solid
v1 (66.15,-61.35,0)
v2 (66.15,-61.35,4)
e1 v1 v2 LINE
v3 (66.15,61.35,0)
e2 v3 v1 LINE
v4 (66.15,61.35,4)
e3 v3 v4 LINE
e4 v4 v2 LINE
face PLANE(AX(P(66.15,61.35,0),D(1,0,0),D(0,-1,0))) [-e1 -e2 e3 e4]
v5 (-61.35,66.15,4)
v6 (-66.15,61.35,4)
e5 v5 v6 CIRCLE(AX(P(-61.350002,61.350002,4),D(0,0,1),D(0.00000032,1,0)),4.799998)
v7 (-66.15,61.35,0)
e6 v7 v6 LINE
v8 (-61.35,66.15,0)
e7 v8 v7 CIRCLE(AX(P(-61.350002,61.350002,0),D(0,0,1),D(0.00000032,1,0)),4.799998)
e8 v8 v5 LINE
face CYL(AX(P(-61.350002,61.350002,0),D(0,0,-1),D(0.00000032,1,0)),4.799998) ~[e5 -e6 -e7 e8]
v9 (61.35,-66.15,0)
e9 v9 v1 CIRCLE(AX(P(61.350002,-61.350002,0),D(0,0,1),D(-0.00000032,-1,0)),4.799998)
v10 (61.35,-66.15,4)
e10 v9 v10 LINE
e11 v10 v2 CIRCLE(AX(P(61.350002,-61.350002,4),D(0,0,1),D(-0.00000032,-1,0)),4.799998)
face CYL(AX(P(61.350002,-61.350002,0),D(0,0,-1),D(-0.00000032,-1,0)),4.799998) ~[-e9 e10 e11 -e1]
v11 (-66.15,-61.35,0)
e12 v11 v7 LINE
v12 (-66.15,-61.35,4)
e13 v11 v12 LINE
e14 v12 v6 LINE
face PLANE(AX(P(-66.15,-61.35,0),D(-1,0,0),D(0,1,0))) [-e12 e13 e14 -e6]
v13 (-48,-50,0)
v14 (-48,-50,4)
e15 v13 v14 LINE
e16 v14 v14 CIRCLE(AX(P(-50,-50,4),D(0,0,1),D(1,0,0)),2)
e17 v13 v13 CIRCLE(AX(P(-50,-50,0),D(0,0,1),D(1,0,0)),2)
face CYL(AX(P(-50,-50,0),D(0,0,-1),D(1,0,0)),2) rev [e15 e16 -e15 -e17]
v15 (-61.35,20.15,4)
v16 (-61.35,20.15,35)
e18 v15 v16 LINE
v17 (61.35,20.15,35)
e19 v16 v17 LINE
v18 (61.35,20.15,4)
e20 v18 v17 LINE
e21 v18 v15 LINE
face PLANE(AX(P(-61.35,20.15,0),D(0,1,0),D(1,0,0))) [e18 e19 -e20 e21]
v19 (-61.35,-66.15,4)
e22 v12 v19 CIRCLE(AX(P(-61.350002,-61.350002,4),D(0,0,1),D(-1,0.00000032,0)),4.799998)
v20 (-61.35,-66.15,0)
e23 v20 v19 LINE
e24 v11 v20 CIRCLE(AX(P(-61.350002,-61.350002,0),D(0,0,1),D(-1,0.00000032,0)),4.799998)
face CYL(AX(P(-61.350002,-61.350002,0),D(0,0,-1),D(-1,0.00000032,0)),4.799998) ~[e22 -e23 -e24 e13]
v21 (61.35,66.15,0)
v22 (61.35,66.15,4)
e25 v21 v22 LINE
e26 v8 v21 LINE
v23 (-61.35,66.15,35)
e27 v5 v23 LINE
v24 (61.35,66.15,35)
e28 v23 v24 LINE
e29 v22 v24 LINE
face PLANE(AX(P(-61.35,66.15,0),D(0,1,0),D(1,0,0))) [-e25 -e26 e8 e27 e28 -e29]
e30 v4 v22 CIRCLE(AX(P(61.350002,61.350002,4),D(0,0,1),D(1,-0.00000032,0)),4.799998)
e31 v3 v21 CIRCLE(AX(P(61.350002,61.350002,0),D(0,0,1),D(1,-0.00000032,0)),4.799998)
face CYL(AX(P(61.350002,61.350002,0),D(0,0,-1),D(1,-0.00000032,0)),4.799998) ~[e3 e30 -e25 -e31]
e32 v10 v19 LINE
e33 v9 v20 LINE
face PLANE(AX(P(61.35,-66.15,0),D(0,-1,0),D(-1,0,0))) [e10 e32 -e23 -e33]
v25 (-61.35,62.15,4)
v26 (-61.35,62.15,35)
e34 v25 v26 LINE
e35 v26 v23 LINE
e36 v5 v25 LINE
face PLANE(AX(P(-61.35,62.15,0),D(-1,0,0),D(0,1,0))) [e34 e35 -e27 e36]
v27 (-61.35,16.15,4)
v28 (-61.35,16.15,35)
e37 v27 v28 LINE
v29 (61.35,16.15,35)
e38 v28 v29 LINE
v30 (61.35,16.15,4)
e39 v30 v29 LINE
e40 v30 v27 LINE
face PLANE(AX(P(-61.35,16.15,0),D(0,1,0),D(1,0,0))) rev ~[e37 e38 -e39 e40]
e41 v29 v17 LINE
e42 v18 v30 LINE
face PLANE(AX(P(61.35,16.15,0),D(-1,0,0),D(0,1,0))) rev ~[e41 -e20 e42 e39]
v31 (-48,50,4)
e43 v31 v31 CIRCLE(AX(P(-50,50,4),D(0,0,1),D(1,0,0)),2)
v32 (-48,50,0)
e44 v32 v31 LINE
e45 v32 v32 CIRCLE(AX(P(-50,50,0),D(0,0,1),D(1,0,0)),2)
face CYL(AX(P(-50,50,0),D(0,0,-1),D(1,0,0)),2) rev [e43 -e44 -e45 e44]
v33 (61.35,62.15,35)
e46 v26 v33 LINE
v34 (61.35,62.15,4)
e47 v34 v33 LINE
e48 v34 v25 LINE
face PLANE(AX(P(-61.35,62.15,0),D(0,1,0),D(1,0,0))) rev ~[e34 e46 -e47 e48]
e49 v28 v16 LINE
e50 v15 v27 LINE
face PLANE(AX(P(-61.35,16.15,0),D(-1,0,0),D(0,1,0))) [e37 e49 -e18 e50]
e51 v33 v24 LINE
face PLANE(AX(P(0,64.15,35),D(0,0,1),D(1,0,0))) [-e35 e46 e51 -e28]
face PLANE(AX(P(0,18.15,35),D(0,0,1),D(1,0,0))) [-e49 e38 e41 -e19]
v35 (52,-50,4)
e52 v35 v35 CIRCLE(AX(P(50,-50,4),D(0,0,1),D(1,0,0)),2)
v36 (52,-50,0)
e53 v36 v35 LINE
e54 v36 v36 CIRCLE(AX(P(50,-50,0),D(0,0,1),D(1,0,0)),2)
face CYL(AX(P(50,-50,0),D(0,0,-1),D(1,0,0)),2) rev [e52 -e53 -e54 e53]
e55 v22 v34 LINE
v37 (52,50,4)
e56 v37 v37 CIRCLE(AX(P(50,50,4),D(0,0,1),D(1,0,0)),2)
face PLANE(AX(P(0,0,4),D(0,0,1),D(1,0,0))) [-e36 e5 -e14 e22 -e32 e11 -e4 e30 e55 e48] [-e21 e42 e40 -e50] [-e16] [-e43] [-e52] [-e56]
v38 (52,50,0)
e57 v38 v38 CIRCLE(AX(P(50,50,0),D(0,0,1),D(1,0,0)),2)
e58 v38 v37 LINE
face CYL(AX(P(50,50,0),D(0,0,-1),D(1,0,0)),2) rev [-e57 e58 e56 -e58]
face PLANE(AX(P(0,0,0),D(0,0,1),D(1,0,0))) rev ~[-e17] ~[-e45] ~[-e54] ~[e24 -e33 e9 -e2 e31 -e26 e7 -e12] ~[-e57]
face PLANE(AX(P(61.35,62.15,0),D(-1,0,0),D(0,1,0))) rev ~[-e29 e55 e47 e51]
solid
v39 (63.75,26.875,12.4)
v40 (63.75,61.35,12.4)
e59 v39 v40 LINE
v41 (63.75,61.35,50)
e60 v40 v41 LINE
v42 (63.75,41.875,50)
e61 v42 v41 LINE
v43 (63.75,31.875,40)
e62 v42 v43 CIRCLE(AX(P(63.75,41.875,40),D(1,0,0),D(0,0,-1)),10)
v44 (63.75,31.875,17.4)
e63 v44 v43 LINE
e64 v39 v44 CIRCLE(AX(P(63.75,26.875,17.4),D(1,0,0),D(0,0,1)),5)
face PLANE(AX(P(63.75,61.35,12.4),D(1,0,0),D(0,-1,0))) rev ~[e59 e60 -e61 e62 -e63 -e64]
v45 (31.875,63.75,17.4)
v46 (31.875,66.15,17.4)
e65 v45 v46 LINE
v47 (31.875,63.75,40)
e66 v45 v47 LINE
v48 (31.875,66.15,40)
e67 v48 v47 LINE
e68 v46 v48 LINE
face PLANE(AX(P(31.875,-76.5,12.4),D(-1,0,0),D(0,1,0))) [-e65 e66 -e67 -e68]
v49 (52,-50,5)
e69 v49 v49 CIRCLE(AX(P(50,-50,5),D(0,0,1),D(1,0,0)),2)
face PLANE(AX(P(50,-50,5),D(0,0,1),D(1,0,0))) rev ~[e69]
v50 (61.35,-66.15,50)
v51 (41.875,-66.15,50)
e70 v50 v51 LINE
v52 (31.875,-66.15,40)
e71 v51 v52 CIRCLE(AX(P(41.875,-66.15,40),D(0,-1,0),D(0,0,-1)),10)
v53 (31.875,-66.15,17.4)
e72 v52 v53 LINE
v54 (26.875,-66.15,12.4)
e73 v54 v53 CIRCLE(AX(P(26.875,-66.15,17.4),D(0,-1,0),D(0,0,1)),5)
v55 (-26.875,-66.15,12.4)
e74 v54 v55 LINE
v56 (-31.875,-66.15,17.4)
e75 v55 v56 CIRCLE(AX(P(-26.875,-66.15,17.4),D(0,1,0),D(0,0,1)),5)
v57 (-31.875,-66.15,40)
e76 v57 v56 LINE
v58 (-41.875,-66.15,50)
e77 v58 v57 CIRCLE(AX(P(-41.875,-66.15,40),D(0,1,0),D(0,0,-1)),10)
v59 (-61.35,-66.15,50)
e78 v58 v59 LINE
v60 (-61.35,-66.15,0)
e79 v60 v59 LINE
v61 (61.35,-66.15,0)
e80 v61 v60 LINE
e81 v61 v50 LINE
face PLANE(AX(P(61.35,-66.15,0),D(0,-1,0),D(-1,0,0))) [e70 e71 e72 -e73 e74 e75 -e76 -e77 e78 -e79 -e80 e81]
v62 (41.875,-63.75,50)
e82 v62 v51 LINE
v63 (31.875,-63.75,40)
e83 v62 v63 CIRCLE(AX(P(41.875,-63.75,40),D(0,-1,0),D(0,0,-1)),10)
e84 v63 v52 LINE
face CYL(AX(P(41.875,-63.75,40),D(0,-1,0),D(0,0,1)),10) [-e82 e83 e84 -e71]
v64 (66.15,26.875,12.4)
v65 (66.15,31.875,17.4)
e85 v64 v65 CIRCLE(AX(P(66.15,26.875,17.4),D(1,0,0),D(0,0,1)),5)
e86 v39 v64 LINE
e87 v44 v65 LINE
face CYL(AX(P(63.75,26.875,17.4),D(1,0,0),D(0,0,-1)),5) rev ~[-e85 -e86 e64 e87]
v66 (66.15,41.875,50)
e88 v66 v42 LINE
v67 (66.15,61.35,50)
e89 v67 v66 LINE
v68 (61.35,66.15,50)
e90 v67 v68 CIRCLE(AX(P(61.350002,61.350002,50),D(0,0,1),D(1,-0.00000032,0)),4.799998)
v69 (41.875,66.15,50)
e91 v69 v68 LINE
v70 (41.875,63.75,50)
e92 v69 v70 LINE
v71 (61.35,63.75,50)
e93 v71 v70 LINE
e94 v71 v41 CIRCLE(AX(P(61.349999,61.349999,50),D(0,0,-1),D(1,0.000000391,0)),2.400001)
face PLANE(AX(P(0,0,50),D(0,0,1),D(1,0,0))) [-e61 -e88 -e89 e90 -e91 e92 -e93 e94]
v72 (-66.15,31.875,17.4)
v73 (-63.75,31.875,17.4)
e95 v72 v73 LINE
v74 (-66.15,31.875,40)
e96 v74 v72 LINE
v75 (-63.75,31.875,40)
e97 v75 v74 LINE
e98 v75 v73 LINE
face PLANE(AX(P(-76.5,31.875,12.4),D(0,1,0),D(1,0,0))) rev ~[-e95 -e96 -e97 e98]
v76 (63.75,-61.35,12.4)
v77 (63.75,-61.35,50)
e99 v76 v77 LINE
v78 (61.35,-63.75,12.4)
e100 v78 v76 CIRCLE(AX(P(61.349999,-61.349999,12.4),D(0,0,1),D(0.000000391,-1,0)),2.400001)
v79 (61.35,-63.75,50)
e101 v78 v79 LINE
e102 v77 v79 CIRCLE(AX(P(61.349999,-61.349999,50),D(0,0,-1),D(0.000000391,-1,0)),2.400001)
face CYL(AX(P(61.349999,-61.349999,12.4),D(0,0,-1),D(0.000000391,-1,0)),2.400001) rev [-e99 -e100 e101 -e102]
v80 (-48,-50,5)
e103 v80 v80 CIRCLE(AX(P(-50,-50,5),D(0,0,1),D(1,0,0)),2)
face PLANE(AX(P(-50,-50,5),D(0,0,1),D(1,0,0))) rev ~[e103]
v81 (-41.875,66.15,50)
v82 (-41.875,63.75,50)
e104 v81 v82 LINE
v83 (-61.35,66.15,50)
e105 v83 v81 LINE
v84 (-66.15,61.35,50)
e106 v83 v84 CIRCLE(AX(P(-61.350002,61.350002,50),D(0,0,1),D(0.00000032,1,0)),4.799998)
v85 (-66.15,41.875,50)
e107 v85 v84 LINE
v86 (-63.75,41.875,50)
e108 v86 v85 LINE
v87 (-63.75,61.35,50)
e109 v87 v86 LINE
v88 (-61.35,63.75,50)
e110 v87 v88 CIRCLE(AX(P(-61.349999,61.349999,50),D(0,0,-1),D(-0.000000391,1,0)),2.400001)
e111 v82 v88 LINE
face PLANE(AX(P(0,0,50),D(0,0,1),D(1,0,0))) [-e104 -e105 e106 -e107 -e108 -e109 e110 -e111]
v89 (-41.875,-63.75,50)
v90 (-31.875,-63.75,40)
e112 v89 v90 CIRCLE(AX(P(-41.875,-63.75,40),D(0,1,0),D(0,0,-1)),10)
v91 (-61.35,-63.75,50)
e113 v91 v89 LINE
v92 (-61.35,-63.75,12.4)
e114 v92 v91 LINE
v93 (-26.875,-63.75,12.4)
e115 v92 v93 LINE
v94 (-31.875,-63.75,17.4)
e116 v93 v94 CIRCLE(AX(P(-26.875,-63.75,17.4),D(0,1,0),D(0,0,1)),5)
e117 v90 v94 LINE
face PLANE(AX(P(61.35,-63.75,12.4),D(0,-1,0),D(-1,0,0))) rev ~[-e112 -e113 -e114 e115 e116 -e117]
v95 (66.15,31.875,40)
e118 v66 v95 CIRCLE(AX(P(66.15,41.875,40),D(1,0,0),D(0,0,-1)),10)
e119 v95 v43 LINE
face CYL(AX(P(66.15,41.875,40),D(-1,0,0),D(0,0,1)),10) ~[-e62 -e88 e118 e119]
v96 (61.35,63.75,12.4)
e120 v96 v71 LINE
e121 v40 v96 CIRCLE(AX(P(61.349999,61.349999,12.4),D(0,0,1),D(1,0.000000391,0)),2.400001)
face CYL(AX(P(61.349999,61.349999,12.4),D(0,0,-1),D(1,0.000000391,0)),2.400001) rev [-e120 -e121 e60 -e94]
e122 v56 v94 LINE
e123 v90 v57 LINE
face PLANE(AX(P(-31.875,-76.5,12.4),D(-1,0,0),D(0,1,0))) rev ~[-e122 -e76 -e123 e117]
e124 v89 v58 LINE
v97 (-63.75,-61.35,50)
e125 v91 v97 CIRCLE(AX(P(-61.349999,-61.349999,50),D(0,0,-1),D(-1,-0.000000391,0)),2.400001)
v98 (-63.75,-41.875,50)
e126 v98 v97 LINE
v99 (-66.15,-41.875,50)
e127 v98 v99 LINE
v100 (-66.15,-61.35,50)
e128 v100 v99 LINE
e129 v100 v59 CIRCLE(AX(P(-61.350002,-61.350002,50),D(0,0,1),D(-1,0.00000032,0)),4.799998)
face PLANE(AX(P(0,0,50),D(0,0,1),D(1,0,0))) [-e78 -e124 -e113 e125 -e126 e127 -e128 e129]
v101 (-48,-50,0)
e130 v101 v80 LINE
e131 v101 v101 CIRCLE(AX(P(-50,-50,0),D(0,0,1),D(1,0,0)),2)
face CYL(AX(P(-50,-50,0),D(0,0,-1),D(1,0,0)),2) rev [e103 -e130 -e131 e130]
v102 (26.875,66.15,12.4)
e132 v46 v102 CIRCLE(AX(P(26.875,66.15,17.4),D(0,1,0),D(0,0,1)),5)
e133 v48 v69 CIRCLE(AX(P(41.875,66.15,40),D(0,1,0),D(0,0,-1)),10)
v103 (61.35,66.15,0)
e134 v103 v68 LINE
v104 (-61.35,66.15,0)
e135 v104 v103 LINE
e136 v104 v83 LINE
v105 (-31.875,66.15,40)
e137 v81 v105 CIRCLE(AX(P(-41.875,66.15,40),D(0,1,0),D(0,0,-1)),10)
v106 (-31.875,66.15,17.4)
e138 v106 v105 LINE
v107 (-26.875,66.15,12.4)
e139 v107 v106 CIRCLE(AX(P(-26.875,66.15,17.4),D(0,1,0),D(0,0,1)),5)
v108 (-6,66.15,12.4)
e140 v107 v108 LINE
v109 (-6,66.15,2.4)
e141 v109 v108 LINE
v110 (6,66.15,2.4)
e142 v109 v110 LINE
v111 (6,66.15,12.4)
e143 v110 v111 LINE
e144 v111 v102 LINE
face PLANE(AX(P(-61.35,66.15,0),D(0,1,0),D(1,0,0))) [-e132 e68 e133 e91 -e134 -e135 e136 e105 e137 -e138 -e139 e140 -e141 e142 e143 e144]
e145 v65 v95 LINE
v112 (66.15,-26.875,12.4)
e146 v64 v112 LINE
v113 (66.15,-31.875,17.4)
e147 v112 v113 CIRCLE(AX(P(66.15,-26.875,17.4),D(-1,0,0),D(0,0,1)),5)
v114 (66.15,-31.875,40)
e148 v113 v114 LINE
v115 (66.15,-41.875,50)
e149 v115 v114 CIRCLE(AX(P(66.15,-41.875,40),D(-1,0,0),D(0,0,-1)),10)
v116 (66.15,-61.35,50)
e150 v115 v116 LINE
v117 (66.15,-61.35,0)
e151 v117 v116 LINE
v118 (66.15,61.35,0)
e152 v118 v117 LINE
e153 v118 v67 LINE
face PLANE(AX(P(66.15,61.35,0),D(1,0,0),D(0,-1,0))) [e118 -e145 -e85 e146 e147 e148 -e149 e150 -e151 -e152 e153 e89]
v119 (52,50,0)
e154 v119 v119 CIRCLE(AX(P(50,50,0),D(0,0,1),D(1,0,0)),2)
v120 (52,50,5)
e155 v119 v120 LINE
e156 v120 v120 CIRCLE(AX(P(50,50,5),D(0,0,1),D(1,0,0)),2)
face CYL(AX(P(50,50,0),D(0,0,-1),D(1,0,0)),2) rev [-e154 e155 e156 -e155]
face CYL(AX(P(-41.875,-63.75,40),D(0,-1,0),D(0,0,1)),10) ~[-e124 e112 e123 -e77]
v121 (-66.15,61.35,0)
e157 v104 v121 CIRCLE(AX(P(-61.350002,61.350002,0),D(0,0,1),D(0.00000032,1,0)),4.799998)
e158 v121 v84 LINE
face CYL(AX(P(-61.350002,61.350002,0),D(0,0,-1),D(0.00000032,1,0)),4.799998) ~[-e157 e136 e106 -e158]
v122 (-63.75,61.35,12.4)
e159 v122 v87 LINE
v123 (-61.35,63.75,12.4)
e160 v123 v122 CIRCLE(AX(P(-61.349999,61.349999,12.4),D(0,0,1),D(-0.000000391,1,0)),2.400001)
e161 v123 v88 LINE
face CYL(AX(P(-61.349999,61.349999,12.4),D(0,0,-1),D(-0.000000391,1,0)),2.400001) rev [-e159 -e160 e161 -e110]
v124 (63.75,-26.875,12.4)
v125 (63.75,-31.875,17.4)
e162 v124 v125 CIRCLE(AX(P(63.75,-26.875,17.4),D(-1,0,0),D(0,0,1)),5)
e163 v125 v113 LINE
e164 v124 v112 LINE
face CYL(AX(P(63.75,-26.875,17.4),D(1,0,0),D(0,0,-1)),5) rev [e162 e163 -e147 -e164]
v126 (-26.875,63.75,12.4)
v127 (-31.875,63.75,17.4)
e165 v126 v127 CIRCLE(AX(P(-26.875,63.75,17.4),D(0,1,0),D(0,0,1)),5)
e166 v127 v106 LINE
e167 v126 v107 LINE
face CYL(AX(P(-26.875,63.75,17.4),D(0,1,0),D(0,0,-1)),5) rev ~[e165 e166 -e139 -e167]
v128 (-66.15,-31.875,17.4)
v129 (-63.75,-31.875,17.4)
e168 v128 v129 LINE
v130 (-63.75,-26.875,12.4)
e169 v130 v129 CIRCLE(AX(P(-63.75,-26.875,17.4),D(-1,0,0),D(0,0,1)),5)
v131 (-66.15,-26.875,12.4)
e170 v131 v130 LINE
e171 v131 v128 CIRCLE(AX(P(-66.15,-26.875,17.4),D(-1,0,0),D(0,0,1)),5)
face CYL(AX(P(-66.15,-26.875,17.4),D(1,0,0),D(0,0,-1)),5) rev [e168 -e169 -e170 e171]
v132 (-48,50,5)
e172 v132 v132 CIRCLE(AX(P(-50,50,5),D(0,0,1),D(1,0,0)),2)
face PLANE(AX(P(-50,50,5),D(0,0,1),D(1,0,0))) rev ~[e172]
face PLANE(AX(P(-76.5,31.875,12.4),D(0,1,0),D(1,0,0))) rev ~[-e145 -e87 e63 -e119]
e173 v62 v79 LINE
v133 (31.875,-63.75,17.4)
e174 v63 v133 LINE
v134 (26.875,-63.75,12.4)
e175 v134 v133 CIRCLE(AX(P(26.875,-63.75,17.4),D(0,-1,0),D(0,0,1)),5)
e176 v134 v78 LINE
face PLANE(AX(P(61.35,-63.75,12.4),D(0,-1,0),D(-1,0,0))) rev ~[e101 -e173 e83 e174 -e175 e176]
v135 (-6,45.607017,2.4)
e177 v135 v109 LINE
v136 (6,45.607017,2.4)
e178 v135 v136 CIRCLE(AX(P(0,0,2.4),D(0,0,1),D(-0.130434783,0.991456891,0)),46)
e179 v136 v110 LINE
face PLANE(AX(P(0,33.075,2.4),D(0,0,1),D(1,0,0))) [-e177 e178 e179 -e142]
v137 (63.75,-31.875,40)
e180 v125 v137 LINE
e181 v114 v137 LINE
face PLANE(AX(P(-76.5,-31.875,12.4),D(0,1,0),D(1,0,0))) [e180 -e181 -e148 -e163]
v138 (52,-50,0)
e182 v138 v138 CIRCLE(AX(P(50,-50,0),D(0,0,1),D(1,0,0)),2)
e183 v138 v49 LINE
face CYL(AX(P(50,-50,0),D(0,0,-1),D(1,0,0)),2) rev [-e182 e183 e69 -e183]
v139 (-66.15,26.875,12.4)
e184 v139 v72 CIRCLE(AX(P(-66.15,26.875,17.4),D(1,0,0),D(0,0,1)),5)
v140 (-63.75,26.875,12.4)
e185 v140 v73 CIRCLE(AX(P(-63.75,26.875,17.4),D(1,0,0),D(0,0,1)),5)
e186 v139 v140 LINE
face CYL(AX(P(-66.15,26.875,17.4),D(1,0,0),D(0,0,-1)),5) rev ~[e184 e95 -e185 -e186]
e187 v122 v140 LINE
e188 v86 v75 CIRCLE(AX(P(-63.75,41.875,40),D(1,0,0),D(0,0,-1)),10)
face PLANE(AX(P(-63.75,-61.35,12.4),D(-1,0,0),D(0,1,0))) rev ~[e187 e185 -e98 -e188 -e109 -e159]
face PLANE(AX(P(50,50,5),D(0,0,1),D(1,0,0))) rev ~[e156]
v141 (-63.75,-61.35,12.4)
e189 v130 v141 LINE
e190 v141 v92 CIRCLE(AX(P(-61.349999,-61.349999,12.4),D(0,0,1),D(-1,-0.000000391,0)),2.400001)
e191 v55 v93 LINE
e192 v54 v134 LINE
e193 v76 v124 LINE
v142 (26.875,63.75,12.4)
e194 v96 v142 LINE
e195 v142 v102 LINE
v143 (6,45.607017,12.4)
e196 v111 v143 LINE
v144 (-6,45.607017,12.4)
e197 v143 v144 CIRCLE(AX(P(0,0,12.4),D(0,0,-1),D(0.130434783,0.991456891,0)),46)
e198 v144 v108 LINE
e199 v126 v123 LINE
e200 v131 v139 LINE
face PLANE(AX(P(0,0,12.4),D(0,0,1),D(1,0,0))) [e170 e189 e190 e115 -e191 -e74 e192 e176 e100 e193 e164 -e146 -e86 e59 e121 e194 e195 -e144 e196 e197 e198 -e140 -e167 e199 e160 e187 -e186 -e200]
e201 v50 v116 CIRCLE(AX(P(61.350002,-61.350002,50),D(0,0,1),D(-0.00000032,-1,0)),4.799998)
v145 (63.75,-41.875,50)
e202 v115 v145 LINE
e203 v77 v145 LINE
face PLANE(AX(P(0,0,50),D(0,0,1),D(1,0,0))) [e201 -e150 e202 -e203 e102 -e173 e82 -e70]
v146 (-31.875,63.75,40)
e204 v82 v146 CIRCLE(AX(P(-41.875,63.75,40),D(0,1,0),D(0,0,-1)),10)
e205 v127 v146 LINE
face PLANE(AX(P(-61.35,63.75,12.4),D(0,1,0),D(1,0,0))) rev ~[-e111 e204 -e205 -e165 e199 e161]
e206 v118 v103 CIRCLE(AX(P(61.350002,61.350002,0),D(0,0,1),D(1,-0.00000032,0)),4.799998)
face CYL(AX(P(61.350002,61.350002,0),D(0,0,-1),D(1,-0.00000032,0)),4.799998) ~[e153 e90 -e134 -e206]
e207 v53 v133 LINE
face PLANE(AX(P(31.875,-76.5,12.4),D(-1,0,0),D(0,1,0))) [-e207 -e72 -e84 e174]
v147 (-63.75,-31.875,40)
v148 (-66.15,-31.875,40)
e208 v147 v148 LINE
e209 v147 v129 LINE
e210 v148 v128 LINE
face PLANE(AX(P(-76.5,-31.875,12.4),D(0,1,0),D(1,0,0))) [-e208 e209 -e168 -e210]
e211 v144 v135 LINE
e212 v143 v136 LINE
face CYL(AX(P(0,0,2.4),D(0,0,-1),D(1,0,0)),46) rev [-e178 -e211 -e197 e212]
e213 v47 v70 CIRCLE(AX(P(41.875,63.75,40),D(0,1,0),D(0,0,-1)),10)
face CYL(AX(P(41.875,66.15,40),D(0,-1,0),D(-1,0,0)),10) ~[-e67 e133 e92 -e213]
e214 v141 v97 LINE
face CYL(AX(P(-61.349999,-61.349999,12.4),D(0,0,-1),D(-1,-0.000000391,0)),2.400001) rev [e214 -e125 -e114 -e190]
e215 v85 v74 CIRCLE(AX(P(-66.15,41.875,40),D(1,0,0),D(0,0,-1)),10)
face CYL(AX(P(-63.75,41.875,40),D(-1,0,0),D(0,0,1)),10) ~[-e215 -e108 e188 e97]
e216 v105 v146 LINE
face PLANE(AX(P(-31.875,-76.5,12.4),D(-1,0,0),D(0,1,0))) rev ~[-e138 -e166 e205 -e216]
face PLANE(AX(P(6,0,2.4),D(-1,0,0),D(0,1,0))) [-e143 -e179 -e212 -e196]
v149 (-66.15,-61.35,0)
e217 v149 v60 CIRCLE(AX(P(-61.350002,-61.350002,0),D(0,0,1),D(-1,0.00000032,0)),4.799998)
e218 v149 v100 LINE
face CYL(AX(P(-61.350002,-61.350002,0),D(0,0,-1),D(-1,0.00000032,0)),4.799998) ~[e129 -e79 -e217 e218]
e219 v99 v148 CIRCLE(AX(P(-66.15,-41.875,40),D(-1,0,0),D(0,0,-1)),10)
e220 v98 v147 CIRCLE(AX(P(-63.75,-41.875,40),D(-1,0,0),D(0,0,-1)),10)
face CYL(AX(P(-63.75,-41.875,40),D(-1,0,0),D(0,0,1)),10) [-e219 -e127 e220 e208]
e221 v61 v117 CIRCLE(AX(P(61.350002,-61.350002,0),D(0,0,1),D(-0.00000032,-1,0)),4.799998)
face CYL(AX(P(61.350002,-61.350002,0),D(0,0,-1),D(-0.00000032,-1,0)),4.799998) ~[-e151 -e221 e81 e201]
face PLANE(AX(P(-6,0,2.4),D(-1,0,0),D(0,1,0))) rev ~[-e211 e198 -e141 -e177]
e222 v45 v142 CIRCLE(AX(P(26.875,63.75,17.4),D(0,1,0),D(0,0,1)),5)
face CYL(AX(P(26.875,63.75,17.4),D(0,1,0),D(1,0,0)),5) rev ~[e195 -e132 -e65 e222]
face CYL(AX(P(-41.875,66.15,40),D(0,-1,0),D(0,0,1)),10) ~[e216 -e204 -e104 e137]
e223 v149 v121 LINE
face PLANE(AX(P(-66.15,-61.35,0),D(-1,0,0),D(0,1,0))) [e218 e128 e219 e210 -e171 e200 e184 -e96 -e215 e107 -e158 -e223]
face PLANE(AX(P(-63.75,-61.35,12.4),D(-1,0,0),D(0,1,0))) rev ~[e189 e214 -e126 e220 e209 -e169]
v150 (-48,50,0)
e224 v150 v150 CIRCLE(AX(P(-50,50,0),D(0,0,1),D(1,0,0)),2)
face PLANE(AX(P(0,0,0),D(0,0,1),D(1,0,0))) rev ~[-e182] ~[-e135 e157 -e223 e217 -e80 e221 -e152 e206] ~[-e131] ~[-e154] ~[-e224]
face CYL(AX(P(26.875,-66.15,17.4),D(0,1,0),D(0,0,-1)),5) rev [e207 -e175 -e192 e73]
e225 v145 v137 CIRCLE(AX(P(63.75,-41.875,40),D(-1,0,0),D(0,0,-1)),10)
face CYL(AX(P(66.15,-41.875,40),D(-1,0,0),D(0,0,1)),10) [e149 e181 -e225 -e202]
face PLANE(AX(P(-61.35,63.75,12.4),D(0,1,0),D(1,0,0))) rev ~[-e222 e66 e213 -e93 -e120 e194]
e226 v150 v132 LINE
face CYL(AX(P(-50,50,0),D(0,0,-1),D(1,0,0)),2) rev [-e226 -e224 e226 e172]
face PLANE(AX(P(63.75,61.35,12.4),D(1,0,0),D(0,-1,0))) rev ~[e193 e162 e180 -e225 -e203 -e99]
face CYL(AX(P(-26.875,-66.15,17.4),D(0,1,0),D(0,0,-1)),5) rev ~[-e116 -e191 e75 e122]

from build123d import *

# Parameters (mm, degrees)
PAD_DEPTH       = 50
SKETCH001_R     = 46
POCKET_DEPTH    = 47.601
SKETCH002_W     = 12
SKETCH002_H     = 66.15
POCKET001_DEPTH = 47.601
POCKET002_DEPTH = 37.601
SKETCH004_R     = 2
POCKET003_DEPTH = 5
SKETCH007_W     = 153
SKETCH007_H     = 63.75
POCKET004_DEPTH = 37.601
SKETCH008_W     = 63.75
SKETCH008_H     = 153
POCKET005_DEPTH = 37.601
FILLET_R        = 10
FILLET001_R     = 5
SKETCH005_R     = 2
PAD001_DEPTH    = 4
SKETCH006_W     = 122.7
SKETCH006_H     = 4
PAD002_DEPTH    = 35


with BuildPart() as box_holder:
    # Sketch → Pad (new body)
    with BuildSketch(Plane.XY):
        with BuildLine():
            ThreePointArc((-61.35, 66.15), (-64.744113, 64.744113), (-66.15, 61.35))
            Line((-66.15, -61.35), (-66.15, 61.35))
            ThreePointArc((-66.15, -61.35), (-64.744113, -64.744113), (-61.35, -66.15))
            Line((61.35, -66.15), (-61.35, -66.15))
            ThreePointArc((61.35, -66.15), (64.744113, -64.744113), (66.15, -61.35))
            Line((66.15, 61.35), (66.15, -61.35))
            ThreePointArc((66.15, 61.35), (64.744113, 64.744113), (61.35, 66.15))
            Line((-61.35, 66.15), (61.35, 66.15))
        make_face()
    extrude(amount=PAD_DEPTH)

    # Sketch001 → Pocket (cut, through all)
    with BuildSketch(Plane.XY.offset(2.4)):
        Circle(SKETCH001_R)
    extrude(amount=POCKET_DEPTH, mode=Mode.SUBTRACT)

    # Sketch002 → Pocket001 (cut, through all)
    with BuildSketch(Plane.XY.offset(2.4)):
        with Locations((0, 33.075)):
            Rectangle(SKETCH002_W, SKETCH002_H)
    extrude(amount=POCKET001_DEPTH, mode=Mode.SUBTRACT)

    # Sketch003 → Pocket002 (cut, through all)
    with BuildSketch(Plane.XY.offset(12.4)):
        with BuildLine():
            ThreePointArc((-61.35, 63.75), (-63.047056, 63.047056), (-63.75, 61.35))
            Line((-63.75, -61.35), (-63.75, 61.35))
            ThreePointArc((-63.75, -61.35), (-63.047056, -63.047056), (-61.35, -63.75))
            Line((61.35, -63.75), (-61.35, -63.75))
            ThreePointArc((61.35, -63.75), (63.047056, -63.047056), (63.75, -61.35))
            Line((63.75, 61.35), (63.75, -61.35))
            ThreePointArc((63.75, 61.35), (63.047056, 63.047056), (61.35, 63.75))
            Line((-61.35, 63.75), (61.35, 63.75))
        make_face()
    extrude(amount=POCKET002_DEPTH, mode=Mode.SUBTRACT)

    # Sketch004 → Pocket003 (cut)
    with BuildSketch(Plane.XY):
        with Locations((-50, 50)):
            Circle(SKETCH004_R)
        with Locations((50, 50)):
            Circle(SKETCH004_R)
        with Locations((50, -50)):
            Circle(SKETCH004_R)
        with Locations((-50, -50)):
            Circle(SKETCH004_R)
    extrude(amount=POCKET003_DEPTH, mode=Mode.SUBTRACT)

    # Sketch007 → Pocket004 (cut, through all)
    with BuildSketch(Plane.XY.offset(12.4)):
        Rectangle(SKETCH007_W, SKETCH007_H)
    extrude(amount=POCKET004_DEPTH, mode=Mode.SUBTRACT)

    # Sketch008 → Pocket005 (cut, through all)
    with BuildSketch(Plane.XY.offset(12.4)):
        Rectangle(SKETCH008_W, SKETCH008_H)
    extrude(amount=POCKET005_DEPTH, mode=Mode.SUBTRACT)

    # Fillet
    fillet_edges = [box_holder.edges().sort_by_distance(p)[0] for p in [
        (-64.95, -31.875, 50),
        (-64.95, 31.875, 50),
        (-31.875, -64.95, 50),
        (31.875, -64.95, 50),
        (64.95, -31.875, 50),
        (64.95, 31.875, 50),
        (31.875, 64.95, 50),
        (-31.875, 64.95, 50),
    ]]
    fillet(fillet_edges, radius=FILLET_R)

    # Fillet001
    fillet001_edges = [box_holder.edges().sort_by_distance(p)[0] for p in [
        (31.875, 64.95, 12.4),
        (64.95, 31.875, 12.4),
        (-31.875, 64.95, 12.4),
        (-64.95, -31.875, 12.4),
        (-64.95, 31.875, 12.4),
        (-31.875, -64.95, 12.4),
        (31.875, -64.95, 12.4),
        (64.95, -31.875, 12.4),
    ]]
    fillet(fillet001_edges, radius=FILLET001_R)


with BuildPart() as bed_attachement:
    # Sketch005 → Pad001 (new body)
    with BuildSketch(Plane.XY):
        with BuildLine():
            ThreePointArc((-61.35, 66.15), (-64.744113, 64.744113), (-66.15, 61.35))
            Line((-66.15, -61.35), (-66.15, 61.35))
            ThreePointArc((-66.15, -61.35), (-64.744113, -64.744113), (-61.35, -66.15))
            Line((61.35, -66.15), (-61.35, -66.15))
            ThreePointArc((61.35, -66.15), (64.744113, -64.744113), (66.15, -61.35))
            Line((66.15, 61.35), (66.15, -61.35))
            ThreePointArc((66.15, 61.35), (64.744113, 64.744113), (61.35, 66.15))
            Line((-61.35, 66.15), (61.35, 66.15))
        make_face()
        with Locations((-50, 50)):
            Circle(SKETCH005_R, mode=Mode.SUBTRACT)
        with Locations((50, 50)):
            Circle(SKETCH005_R, mode=Mode.SUBTRACT)
        with Locations((-50, -50)):
            Circle(SKETCH005_R, mode=Mode.SUBTRACT)
        with Locations((50, -50)):
            Circle(SKETCH005_R, mode=Mode.SUBTRACT)
    extrude(amount=PAD001_DEPTH)

    # Sketch006 → Pad002 (join)
    with BuildSketch(Plane.XY):
        with Locations((0, 64.15)):
            Rectangle(SKETCH006_W, SKETCH006_H)
        with Locations((0, 18.15)):
            Rectangle(SKETCH006_W, SKETCH006_H)
    extrude(amount=PAD002_DEPTH)


solid = Compound([box_holder.part, bed_attachement.part])
